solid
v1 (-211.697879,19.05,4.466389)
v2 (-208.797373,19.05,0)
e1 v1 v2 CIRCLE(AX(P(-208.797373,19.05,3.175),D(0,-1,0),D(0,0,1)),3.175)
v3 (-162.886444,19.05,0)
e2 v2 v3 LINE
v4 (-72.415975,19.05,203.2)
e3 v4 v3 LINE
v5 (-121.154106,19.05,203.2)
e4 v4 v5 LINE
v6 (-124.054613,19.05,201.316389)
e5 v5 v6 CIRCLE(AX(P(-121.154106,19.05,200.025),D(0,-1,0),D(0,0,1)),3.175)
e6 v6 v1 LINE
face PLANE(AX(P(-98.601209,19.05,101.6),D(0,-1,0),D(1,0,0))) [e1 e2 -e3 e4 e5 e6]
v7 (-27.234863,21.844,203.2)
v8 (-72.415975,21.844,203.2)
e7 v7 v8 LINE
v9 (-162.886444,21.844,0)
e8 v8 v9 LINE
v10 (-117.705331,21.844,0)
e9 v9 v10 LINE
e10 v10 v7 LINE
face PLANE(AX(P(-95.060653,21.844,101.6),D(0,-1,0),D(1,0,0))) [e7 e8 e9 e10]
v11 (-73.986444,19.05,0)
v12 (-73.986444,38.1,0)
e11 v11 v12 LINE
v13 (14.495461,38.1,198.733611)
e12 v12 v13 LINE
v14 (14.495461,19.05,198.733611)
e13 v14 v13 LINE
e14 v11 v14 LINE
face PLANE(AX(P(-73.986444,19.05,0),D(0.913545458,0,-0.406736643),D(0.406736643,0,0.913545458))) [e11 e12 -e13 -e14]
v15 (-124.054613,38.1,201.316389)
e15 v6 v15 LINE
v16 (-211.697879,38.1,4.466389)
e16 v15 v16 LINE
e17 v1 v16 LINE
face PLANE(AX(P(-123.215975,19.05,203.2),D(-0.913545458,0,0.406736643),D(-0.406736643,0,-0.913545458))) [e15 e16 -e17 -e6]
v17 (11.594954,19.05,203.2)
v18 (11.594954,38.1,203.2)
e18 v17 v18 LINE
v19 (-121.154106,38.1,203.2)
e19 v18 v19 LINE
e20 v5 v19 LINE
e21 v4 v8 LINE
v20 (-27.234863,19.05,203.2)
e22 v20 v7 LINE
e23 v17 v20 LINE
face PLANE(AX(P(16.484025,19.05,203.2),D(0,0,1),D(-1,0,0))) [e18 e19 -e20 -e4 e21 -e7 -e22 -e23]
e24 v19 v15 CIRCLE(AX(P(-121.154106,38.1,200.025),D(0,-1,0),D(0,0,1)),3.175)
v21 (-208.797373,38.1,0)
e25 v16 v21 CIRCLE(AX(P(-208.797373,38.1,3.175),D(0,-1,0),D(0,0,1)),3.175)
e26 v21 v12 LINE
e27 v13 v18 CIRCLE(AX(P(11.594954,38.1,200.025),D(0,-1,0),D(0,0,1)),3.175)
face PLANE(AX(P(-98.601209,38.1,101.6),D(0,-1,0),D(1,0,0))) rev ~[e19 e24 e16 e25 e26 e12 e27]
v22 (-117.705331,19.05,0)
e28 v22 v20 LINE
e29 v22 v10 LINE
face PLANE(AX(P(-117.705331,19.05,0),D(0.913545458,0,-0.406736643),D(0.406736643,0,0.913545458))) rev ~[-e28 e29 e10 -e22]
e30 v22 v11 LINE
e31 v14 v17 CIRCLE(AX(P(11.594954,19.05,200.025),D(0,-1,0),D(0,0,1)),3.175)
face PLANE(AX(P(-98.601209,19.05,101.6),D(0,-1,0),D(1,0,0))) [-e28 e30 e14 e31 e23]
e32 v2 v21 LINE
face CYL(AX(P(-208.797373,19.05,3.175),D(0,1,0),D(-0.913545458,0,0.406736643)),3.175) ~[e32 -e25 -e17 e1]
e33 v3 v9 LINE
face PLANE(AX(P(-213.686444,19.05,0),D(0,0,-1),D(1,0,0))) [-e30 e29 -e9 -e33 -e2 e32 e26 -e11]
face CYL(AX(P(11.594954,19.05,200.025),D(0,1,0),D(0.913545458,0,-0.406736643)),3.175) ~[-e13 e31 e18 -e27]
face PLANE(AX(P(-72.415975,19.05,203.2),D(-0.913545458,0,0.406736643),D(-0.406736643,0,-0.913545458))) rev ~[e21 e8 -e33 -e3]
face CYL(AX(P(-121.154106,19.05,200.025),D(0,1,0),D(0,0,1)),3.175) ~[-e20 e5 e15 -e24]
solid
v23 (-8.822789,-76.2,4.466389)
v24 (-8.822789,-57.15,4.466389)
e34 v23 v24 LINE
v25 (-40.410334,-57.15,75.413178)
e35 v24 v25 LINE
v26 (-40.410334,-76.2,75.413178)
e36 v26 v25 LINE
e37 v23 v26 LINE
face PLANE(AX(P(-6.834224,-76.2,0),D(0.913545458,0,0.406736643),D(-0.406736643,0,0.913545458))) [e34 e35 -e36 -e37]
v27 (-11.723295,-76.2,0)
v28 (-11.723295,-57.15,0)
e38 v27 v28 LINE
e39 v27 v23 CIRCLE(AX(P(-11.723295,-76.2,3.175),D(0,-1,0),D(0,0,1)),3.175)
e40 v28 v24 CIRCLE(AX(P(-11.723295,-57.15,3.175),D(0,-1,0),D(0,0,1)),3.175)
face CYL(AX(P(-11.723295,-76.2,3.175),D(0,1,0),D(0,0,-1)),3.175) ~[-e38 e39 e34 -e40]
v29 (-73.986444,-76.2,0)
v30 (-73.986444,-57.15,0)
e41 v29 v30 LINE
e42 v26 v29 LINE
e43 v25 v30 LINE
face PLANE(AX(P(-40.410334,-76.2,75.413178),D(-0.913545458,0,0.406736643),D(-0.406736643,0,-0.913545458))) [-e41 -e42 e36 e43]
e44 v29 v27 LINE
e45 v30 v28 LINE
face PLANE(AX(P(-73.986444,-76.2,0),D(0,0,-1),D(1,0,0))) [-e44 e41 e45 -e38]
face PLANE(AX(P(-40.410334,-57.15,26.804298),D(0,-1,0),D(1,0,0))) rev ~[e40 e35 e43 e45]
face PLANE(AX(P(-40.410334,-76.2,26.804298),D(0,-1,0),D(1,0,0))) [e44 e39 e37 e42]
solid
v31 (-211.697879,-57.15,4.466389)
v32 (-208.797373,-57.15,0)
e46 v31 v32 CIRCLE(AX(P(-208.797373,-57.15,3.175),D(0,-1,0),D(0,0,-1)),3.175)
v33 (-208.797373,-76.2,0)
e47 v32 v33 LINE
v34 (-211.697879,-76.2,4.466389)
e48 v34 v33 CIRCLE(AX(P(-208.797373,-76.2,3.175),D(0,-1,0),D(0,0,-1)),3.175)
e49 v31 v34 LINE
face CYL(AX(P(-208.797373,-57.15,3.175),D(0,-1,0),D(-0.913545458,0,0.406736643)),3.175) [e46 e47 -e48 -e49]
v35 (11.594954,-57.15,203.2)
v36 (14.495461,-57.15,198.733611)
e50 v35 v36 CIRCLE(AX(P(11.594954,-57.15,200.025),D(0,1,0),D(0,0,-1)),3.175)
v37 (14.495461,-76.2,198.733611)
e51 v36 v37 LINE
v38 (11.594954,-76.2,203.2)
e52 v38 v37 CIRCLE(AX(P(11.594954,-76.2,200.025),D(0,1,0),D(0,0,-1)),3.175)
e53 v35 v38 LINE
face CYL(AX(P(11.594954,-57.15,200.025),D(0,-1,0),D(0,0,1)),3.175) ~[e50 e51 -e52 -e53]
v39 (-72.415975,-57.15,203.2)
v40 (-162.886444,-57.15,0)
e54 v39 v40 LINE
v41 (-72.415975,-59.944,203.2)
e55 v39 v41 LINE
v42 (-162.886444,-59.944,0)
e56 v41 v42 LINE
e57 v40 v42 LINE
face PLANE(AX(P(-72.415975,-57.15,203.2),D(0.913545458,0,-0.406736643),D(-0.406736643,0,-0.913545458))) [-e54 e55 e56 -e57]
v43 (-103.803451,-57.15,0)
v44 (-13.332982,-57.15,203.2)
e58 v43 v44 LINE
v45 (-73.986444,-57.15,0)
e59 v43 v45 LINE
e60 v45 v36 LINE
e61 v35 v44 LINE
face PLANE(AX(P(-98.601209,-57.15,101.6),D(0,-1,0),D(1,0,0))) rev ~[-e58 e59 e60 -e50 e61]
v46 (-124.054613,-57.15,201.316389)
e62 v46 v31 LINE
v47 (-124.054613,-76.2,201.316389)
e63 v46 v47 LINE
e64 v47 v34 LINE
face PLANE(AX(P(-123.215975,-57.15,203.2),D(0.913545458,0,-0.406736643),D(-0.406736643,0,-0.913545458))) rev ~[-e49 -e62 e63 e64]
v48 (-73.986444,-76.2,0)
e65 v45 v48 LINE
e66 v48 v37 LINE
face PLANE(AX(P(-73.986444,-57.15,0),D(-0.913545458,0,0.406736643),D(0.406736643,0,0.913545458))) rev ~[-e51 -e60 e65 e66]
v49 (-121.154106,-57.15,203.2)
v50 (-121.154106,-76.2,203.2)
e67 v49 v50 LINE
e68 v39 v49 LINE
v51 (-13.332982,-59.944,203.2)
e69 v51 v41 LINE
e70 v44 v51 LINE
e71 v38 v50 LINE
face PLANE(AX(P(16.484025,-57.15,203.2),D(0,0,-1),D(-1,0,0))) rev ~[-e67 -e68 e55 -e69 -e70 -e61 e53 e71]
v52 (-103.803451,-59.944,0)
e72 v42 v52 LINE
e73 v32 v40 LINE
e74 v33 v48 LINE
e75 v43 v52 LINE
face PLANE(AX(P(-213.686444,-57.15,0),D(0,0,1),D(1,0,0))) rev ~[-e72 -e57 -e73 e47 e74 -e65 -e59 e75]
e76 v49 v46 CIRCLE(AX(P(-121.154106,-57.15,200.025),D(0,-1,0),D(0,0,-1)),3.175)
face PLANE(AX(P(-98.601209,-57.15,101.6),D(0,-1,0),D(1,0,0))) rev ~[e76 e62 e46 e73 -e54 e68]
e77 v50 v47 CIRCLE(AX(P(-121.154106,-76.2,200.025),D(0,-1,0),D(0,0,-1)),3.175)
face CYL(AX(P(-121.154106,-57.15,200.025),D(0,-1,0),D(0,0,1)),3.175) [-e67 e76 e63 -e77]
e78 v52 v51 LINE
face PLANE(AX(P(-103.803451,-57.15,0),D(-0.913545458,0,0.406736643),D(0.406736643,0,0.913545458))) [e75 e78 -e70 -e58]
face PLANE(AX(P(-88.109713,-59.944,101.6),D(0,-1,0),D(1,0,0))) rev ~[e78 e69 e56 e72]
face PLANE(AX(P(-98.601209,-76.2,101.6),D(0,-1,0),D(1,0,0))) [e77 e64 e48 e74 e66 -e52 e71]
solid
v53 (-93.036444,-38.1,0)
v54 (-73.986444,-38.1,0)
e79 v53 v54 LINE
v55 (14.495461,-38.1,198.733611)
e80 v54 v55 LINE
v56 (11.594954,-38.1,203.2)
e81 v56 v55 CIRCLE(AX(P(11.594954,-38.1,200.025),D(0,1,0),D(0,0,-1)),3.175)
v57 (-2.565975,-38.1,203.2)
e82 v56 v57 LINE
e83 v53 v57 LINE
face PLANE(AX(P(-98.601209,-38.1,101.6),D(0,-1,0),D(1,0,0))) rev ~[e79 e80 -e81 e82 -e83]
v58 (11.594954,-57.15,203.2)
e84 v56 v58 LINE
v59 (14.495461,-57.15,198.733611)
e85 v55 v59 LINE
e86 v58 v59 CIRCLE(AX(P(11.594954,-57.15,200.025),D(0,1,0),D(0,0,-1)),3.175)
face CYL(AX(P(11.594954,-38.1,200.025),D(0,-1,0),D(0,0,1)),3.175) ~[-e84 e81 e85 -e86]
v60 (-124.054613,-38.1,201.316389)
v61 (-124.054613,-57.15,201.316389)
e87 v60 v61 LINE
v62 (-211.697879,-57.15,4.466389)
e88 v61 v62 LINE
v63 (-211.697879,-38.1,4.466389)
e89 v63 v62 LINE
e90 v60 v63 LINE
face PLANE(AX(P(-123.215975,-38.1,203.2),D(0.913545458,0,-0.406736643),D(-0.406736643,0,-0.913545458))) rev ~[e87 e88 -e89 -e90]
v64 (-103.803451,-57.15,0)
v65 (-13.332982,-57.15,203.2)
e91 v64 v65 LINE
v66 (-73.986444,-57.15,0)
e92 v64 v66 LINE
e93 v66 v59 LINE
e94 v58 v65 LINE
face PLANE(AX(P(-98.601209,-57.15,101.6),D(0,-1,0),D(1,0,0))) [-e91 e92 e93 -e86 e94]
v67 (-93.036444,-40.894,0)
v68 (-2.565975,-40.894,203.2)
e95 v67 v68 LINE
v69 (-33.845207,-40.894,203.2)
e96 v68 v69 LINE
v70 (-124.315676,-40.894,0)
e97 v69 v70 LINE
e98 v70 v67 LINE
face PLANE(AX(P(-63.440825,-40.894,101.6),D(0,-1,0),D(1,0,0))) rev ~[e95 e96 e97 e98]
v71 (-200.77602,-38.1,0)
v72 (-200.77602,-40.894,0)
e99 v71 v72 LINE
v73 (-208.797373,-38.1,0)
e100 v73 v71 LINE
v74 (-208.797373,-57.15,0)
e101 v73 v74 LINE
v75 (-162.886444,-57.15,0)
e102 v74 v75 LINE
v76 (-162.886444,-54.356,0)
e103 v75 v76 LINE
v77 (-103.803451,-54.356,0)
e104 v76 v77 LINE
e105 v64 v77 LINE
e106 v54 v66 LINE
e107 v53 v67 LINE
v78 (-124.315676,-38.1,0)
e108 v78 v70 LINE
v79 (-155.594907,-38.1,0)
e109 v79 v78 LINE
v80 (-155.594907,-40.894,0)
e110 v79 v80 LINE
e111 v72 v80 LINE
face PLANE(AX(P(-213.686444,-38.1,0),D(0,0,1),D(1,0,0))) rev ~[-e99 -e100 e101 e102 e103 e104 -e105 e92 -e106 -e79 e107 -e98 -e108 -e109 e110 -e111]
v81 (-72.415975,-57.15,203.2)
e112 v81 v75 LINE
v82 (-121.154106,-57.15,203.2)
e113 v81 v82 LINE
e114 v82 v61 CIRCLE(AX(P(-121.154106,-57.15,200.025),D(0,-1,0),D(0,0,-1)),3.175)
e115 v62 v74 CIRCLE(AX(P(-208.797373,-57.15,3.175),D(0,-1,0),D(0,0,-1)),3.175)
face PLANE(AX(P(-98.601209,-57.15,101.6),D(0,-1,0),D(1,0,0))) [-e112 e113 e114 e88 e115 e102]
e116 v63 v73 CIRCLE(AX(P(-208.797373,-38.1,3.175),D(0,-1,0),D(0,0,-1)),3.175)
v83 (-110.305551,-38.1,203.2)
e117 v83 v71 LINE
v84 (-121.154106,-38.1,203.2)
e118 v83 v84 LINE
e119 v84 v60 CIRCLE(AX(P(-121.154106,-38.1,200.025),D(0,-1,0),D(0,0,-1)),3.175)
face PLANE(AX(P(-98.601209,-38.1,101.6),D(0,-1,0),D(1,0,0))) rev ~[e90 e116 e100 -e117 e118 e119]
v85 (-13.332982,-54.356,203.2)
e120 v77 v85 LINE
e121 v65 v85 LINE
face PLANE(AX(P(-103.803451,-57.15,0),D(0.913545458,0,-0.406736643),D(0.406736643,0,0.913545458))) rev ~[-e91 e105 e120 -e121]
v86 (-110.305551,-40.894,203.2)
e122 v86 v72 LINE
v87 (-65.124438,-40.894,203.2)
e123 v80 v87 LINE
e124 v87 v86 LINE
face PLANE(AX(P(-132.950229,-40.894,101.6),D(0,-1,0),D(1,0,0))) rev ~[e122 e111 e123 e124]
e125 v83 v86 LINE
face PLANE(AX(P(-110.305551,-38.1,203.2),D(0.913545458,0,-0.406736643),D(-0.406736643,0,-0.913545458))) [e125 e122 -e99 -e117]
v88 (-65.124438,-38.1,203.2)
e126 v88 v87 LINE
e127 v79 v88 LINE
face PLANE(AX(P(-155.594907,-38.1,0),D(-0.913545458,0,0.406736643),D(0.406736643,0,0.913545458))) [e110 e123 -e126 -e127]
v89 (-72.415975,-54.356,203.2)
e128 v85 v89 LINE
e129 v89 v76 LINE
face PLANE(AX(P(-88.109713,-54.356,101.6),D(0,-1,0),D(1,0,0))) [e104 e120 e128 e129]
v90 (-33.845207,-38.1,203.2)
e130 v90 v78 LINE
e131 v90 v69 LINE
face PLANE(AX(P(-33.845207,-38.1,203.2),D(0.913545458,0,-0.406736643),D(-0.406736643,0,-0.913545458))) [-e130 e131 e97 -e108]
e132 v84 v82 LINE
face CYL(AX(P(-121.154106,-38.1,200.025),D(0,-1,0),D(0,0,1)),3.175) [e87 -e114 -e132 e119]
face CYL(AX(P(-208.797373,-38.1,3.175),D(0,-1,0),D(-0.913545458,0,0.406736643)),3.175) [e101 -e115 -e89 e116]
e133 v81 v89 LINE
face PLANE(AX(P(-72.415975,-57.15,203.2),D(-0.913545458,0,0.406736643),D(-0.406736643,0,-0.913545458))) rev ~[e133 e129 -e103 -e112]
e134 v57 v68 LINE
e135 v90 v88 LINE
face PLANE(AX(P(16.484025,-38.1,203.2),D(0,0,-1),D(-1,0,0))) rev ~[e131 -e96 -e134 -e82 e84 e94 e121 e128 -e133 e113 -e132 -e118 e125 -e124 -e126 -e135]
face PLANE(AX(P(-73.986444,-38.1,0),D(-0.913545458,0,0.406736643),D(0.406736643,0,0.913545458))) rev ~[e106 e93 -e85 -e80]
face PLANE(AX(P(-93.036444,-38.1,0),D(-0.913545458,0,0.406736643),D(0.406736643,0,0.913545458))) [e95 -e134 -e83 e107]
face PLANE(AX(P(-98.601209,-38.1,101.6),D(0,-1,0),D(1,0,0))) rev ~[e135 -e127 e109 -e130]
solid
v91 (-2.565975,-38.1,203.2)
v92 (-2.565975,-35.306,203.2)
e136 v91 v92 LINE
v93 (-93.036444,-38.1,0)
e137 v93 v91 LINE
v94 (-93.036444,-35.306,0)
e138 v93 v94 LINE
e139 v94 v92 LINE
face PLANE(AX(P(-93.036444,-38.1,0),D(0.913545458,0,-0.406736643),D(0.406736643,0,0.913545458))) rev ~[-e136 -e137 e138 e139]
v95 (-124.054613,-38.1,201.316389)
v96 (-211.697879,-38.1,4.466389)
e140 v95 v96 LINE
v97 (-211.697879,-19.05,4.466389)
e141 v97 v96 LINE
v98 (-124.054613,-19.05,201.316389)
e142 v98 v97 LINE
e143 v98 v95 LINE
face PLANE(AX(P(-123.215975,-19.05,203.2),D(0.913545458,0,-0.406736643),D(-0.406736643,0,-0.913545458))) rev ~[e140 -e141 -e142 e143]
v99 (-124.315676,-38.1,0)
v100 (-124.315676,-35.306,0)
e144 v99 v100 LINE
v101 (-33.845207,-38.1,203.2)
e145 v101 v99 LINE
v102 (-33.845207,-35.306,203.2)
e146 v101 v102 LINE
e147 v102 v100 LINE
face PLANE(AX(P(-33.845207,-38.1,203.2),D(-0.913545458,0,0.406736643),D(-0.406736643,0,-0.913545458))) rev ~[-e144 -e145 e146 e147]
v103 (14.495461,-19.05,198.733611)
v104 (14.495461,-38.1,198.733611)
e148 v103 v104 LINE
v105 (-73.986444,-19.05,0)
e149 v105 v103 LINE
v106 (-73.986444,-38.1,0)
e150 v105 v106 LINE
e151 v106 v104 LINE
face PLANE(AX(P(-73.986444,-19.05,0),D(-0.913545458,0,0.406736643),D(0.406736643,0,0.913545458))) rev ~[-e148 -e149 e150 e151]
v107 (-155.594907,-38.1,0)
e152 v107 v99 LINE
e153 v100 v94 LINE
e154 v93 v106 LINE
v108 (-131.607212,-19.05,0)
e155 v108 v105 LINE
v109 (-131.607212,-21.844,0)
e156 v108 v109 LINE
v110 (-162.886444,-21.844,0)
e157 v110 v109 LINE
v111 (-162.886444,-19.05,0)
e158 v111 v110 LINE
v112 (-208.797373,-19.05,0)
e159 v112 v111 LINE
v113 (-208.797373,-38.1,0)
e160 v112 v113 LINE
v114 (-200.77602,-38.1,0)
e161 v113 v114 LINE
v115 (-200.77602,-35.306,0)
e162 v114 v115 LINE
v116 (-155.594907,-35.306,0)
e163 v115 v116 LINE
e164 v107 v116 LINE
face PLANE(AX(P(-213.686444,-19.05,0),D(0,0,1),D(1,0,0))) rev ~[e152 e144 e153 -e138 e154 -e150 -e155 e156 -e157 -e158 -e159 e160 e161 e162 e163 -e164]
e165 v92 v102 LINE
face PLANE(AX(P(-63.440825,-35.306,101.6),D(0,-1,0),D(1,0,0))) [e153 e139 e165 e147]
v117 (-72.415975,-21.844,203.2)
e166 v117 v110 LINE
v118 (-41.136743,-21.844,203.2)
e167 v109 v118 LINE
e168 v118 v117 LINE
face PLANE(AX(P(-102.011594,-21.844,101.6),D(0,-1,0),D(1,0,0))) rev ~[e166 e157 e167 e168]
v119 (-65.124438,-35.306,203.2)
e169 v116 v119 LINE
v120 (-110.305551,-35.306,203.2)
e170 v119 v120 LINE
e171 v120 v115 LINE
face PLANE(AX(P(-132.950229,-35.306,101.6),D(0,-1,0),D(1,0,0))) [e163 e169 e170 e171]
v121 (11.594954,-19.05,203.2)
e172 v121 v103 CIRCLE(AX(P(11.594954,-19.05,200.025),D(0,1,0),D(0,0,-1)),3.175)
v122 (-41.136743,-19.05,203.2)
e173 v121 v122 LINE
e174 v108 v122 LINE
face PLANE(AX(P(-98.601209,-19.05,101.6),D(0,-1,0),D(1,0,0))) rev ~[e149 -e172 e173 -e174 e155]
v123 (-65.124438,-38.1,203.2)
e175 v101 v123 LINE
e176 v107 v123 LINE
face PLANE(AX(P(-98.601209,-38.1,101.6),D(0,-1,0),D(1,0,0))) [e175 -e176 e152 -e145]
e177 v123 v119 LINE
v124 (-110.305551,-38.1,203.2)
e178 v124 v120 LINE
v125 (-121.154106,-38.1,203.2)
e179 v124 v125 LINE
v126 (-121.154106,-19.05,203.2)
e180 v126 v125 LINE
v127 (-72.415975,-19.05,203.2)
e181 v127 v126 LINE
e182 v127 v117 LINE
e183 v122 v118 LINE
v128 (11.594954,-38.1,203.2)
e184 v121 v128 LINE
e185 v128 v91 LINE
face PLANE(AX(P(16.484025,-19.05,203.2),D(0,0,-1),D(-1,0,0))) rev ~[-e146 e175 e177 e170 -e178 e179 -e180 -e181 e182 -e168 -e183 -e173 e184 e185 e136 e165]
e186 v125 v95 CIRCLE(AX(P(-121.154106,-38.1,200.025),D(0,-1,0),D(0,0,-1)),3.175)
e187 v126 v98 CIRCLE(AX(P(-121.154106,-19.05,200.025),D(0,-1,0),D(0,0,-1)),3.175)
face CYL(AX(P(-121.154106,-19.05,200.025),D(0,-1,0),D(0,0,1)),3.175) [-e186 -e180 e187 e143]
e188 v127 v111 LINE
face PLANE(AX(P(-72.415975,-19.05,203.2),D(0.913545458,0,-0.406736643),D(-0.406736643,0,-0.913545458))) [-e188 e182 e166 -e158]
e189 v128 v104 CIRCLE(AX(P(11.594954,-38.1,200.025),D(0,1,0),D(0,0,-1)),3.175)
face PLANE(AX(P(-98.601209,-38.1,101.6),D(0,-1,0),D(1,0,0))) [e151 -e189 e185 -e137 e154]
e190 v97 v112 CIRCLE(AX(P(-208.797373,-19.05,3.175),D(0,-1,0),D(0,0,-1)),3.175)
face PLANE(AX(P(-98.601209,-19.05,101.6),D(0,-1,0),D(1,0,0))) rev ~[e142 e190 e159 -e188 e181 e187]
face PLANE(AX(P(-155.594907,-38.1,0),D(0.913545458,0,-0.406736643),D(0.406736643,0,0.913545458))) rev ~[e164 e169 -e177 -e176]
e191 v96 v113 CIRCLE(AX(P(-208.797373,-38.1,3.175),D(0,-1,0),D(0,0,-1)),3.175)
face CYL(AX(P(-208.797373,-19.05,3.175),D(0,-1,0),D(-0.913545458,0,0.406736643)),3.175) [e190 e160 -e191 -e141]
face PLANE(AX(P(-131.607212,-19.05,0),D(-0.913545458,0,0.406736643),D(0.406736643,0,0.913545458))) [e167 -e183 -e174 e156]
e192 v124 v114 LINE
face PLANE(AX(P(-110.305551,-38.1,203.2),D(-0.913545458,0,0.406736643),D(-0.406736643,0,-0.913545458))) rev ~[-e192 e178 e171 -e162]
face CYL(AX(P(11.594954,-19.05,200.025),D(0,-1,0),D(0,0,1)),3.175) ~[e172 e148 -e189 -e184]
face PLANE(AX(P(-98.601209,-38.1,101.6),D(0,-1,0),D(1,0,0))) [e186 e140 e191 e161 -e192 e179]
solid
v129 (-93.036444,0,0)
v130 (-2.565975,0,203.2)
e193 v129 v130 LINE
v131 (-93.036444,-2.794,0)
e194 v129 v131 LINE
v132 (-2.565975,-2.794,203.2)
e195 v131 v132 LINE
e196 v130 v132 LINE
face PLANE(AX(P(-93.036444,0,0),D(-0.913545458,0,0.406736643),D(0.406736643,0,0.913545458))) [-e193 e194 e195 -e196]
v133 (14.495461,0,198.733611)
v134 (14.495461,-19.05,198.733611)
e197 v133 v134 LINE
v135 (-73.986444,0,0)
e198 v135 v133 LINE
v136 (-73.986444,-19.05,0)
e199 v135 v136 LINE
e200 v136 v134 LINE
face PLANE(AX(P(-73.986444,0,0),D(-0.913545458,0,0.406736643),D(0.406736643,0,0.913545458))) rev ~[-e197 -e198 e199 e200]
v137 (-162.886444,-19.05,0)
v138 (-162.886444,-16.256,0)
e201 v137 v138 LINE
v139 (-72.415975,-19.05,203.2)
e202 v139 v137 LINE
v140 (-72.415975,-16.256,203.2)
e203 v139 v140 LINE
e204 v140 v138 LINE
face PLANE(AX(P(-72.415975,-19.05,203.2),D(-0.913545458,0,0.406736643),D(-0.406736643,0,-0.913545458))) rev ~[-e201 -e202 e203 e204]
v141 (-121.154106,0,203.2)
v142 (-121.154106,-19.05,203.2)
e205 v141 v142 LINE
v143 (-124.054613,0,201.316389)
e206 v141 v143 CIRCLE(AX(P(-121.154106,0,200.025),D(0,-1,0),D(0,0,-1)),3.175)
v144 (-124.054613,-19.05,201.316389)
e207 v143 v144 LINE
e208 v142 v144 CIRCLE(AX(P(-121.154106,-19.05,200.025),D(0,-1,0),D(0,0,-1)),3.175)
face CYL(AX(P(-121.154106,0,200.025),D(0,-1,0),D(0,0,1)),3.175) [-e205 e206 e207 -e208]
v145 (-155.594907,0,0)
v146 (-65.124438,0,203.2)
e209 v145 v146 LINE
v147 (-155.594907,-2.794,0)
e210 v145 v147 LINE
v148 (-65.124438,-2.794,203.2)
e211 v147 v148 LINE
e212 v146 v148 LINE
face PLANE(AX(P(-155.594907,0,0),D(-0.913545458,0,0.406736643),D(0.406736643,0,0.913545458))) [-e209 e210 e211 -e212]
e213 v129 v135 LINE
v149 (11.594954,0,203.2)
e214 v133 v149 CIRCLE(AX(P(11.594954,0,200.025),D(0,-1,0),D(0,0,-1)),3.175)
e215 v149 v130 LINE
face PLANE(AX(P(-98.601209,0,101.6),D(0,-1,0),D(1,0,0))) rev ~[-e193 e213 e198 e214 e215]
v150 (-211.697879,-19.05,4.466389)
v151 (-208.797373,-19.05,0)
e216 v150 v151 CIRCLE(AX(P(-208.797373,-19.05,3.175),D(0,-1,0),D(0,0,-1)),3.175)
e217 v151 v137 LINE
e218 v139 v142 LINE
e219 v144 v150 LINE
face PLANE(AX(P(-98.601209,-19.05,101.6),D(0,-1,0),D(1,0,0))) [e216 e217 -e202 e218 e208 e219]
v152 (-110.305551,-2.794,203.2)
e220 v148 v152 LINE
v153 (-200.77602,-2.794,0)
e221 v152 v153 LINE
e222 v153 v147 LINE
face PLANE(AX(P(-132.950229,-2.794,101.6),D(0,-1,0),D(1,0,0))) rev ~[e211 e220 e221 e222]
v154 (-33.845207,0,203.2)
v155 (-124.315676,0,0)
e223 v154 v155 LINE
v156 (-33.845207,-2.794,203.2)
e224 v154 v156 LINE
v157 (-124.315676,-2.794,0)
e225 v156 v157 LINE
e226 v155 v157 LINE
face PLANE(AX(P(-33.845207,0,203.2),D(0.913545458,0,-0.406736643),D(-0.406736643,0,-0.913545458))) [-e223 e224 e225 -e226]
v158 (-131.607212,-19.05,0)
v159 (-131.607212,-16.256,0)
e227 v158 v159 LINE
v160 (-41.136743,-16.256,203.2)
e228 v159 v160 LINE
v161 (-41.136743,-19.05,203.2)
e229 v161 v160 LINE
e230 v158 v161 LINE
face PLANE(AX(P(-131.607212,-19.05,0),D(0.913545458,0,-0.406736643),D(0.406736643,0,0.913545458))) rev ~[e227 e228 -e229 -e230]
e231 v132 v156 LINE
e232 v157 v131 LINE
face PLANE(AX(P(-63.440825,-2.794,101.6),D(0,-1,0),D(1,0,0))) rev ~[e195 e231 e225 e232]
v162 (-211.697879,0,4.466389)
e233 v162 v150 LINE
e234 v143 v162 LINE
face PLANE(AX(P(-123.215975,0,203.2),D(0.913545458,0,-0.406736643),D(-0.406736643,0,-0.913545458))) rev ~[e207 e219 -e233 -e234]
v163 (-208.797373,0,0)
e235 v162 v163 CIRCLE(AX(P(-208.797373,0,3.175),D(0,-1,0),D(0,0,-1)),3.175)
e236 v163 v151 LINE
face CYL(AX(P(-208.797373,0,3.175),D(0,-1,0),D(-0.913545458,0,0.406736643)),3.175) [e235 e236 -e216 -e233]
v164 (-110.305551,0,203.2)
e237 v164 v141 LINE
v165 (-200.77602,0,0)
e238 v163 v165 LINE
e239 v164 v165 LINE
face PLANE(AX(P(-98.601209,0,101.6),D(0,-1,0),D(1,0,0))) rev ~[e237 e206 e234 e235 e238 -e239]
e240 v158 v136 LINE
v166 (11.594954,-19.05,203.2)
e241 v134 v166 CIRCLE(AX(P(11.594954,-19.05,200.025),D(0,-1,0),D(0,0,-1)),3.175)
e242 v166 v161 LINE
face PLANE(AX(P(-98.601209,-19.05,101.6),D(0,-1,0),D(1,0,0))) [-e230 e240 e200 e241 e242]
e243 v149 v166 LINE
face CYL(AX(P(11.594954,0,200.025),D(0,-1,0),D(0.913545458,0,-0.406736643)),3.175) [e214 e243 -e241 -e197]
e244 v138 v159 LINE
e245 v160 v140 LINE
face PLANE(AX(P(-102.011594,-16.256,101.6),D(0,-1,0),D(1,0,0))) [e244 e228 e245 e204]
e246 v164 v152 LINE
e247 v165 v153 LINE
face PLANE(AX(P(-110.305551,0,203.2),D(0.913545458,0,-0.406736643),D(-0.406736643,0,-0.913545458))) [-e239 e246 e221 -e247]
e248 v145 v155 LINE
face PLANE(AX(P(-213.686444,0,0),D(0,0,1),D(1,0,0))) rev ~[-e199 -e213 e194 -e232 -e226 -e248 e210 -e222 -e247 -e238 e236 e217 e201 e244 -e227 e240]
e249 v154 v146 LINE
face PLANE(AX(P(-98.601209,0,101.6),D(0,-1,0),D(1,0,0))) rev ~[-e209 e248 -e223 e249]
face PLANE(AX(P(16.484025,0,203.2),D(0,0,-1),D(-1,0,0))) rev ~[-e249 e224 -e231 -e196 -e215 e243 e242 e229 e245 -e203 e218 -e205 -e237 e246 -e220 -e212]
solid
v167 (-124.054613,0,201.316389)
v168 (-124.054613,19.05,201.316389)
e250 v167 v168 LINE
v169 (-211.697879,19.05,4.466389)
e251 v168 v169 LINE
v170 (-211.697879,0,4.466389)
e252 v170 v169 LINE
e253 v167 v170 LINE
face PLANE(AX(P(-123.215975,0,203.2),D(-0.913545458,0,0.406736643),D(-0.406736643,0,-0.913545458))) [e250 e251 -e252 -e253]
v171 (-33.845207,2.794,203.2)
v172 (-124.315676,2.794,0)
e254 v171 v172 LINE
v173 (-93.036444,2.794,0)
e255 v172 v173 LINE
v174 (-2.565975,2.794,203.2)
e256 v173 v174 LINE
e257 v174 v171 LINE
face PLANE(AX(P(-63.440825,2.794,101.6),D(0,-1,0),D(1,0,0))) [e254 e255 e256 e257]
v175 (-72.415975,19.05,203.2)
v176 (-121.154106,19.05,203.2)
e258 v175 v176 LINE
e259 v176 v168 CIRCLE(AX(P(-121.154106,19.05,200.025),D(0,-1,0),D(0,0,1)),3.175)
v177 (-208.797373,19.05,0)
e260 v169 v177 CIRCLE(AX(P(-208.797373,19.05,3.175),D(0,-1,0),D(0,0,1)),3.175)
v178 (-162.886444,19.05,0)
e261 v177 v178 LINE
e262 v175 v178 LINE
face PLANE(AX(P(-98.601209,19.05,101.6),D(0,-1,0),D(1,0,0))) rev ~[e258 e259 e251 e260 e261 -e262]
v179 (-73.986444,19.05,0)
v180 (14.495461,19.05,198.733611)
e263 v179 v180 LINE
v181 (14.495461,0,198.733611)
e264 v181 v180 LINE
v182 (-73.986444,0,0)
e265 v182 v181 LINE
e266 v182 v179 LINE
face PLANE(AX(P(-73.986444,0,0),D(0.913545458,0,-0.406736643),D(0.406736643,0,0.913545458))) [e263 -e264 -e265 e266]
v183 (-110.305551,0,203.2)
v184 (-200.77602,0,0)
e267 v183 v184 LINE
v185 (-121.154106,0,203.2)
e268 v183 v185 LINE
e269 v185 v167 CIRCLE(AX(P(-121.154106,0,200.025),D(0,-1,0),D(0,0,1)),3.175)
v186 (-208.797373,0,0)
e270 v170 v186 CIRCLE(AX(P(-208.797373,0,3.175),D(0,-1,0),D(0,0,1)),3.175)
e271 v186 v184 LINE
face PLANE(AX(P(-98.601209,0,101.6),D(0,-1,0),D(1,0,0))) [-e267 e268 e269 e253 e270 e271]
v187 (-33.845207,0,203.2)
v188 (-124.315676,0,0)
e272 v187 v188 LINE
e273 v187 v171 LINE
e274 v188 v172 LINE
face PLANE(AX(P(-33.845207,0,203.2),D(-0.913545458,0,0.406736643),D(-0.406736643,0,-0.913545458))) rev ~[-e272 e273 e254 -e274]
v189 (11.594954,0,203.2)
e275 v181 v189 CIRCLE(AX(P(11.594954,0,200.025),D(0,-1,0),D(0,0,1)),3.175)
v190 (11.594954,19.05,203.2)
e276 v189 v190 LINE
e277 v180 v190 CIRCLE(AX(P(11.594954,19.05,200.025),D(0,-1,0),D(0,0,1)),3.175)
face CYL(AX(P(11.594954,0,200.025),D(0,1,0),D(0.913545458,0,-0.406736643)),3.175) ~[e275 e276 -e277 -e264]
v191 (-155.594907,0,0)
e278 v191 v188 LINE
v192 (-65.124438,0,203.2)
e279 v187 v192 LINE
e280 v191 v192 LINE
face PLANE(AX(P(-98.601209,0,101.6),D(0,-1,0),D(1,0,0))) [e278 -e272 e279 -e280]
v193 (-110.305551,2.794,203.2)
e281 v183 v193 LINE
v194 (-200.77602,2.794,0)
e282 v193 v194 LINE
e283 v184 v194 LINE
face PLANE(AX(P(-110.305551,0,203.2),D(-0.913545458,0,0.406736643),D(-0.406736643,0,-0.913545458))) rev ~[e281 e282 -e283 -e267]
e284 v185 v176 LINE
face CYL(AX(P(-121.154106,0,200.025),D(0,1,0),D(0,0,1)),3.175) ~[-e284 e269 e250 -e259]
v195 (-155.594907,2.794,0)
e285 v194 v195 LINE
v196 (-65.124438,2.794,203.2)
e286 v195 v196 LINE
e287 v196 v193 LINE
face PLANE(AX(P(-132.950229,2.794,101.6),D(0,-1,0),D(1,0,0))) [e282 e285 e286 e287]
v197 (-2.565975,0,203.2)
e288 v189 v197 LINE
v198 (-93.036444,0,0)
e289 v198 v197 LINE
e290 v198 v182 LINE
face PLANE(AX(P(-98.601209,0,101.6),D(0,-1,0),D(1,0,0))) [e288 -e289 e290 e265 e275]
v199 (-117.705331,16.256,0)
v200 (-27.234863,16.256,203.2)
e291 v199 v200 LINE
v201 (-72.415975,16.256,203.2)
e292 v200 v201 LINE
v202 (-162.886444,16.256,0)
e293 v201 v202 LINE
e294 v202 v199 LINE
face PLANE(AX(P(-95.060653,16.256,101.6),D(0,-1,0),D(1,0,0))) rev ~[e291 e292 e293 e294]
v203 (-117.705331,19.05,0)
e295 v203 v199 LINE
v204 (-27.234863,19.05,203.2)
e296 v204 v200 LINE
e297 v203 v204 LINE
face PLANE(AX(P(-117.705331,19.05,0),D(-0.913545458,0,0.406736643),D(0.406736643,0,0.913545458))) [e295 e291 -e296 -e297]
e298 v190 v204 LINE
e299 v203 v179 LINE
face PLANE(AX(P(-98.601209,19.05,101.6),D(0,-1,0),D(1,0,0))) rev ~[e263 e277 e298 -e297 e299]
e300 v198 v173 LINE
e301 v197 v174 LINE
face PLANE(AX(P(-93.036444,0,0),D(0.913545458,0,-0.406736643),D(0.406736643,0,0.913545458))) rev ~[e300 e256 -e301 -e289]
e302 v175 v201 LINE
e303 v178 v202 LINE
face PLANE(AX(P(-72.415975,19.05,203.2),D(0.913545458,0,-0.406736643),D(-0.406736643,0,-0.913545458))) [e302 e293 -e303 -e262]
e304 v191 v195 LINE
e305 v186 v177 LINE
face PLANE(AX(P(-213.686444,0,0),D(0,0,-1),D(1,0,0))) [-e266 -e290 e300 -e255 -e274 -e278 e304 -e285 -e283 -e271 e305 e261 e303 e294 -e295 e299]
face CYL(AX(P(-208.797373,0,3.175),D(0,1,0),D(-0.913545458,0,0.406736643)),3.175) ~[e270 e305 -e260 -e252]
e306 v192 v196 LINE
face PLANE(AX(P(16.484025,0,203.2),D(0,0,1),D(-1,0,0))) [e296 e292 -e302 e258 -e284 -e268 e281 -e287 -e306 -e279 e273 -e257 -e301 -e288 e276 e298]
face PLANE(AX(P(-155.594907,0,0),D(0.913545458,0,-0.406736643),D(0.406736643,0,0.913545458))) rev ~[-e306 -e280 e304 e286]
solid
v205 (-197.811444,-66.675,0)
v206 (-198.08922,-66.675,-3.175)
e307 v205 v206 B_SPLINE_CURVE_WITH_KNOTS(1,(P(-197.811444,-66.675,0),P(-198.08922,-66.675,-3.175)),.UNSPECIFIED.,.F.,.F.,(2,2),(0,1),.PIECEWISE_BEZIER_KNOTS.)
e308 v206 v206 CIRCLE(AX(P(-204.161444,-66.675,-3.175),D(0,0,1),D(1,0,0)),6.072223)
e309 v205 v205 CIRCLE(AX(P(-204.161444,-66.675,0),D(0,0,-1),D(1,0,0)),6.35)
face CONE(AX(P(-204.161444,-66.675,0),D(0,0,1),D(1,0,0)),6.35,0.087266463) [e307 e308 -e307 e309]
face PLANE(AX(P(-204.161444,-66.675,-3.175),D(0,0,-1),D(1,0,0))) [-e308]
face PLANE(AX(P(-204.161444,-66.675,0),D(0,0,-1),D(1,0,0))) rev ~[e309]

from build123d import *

# Parameters (mm, degrees)
F1_DEPTH  = 19.05
F6_DEPTH  = 19.05
F8_DEPTH  = 19.05
F9_DEPTH  = 19.05
F11_DEPTH = 19.05
F14_DEPTH = 19.05
F16_DEPTH = 2.794
F17_DEPTH = 2.794
F19_DEPTH = 2.794
F20_DEPTH = 2.794
F22_DEPTH = 2.794
F23_DEPTH = 2.794
F25_DEPTH = 2.794
F26_DEPTH = 2.794
F28_DEPTH = 2.794
F29_DEPTH = 2.794
F31_DEPTH = 19.05
F32_R     = 3.175
F32_2_R   = 3.175
F32_3_R   = 3.175
F32_4_R   = 3.175
F32_5_R   = 3.175
F32_6_R   = 3.175
F33_R     = 3.175
F33_2_R   = 3.175
F33_3_R   = 3.175
F33_4_R   = 3.175
F33_5_R   = 3.175
F33_6_R   = 3.175
F34_R     = 6.35
F35_DEPTH = 3.175
F35_TAPER = 5
F36_R     = 3.175
F37_R     = 3.175
F37_2_R   = 3.175
F37_3_R   = 3.175
F37_4_R   = 3.175
F37_5_R   = 3.175
F37_6_R   = 3.175


with BuildPart() as f1:
    # F0 (on Front) → F1 (new body)
    with BuildSketch(Plane.XZ):
        Polygon((-213.6864438653, 0), (-73.9864438653, 0), (16.4840249894, 203.2), (-123.2159750106, 203.2), align=None)
    extrude(amount=F1_DEPTH)

    # F18 (on face) → F20 (cut)
    with BuildSketch(Plane.XZ):
        Polygon((-2.5659750106, 203.2), (-33.8452066689, 203.2), (-124.3156755236, 0), (-93.0364438653, 0), align=None)
        Polygon((-65.1244383272, 203.2), (-110.3055507226, 203.2), (-200.7760195773, 0), (-155.5949071819, 0), align=None)
    extrude(amount=F20_DEPTH, mode=Mode.SUBTRACT)

    # F21 (on face) → F22 (cut)
    with BuildSketch(Plane.XZ.offset(19.05)):
        Polygon((-41.1367433523, 203.2), (-72.4159750106, 203.2), (-162.8864438653, 0), (-131.607212207, 0), align=None)
    extrude(amount=-F22_DEPTH, mode=Mode.SUBTRACT)

    # F32#3
    f32_3_edges = [f1.edges().sort_by_distance(p)[0] for p in [
        (16.484025, -9.525, 203.2),
    ]]
    fillet(f32_3_edges, radius=F32_3_R)

    # F33#3
    f33_3_edges = [f1.edges().sort_by_distance(p)[0] for p in [
        (-123.215975, -9.525, 203.2),
    ]]
    fillet(f33_3_edges, radius=F33_3_R)

    # F37#3
    f37_3_edges = [f1.edges().sort_by_distance(p)[0] for p in [
        (-213.686444, -9.525, 0),
    ]]
    fillet(f37_3_edges, radius=F37_3_R)


with BuildPart() as f6:
    # F5 (on offset) → F6 (new body)
    with BuildSketch(Plane.XZ.offset(19.05)):
        Polygon((-123.2159750106, 203.2), (-213.6864438653, 0), (-73.9864438653, 0), (16.4840249894, 203.2), align=None)
    extrude(amount=F6_DEPTH)

    # F21 (on face) → F23 (cut)
    with BuildSketch(Plane.XZ.offset(19.05)):
        Polygon((-41.1367433523, 203.2), (-72.4159750106, 203.2), (-162.8864438653, 0), (-131.607212207, 0), align=None)
    extrude(amount=F23_DEPTH, mode=Mode.SUBTRACT)

    # F24 (on face) → F25 (cut)
    with BuildSketch(Plane.XZ.offset(38.1)):
        Polygon((-65.1244383272, 203.2), (-110.3055507226, 203.2), (-200.7760195773, 0), (-155.5949071819, 0), align=None)
        Polygon((-2.5659750106, 203.2), (-33.8452066689, 203.2), (-124.3156755236, 0), (-93.0364438653, 0), align=None)
    extrude(amount=-F25_DEPTH, mode=Mode.SUBTRACT)

    # F32#4
    f32_4_edges = [f6.edges().sort_by_distance(p)[0] for p in [
        (16.484025, -28.575, 203.2),
    ]]
    fillet(f32_4_edges, radius=F32_4_R)

    # F33#4
    f33_4_edges = [f6.edges().sort_by_distance(p)[0] for p in [
        (-123.215975, -28.575, 203.2),
    ]]
    fillet(f33_4_edges, radius=F33_4_R)

    # F37#4
    f37_4_edges = [f6.edges().sort_by_distance(p)[0] for p in [
        (-213.686444, -28.575, 0),
    ]]
    fillet(f37_4_edges, radius=F37_4_R)


with BuildPart() as f8:
    # F7 (on offset) → F8 (new body)
    with BuildSketch(Plane.XZ.offset(38.1)):
        Polygon((16.4840249894, 203.2), (-123.2159750106, 203.2), (-213.6864438653, 0), (-73.9864438653, 0), align=None)
    extrude(amount=F8_DEPTH)

    # F24 (on face) → F26 (cut)
    with BuildSketch(Plane.XZ.offset(38.1)):
        Polygon((-2.5659750106, 203.2), (-33.8452066689, 203.2), (-124.3156755236, 0), (-93.0364438653, 0), align=None)
        Polygon((-65.1244383272, 203.2), (-110.3055507226, 203.2), (-200.7760195773, 0), (-155.5949071819, 0), align=None)
    extrude(amount=F26_DEPTH, mode=Mode.SUBTRACT)

    # F27 (on face) → F28 (cut)
    with BuildSketch(Plane.XZ.offset(57.15)):
        Polygon((-13.3329818782, 203.2), (-72.4159750106, 203.2), (-162.8864438653, 0), (-103.8034507329, 0), align=None)
    extrude(amount=-F28_DEPTH, mode=Mode.SUBTRACT)

    # F32#5
    f32_5_edges = [f8.edges().sort_by_distance(p)[0] for p in [
        (16.484025, -47.625, 203.2),
    ]]
    fillet(f32_5_edges, radius=F32_5_R)

    # F33#5
    f33_5_edges = [f8.edges().sort_by_distance(p)[0] for p in [
        (-123.215975, -47.625, 203.2),
    ]]
    fillet(f33_5_edges, radius=F33_5_R)

    # F37#5
    f37_5_edges = [f8.edges().sort_by_distance(p)[0] for p in [
        (-213.686444, -47.625, 0),
    ]]
    fillet(f37_5_edges, radius=F37_5_R)


with BuildPart() as f9:
    # F0 (on Front) → F9 (new body)
    with BuildSketch(Plane.XZ):
        Polygon((-213.6864438653, 0), (-73.9864438653, 0), (16.4840249894, 203.2), (-123.2159750106, 203.2), align=None)
    extrude(amount=-F9_DEPTH)

    # F15 (on face) → F17 (cut)
    with BuildSketch(Plane.XZ.offset(-19.05)):
        Polygon((-27.2348626153, 203.2), (-72.4159750106, 203.2), (-162.8864438653, 0), (-117.70533147, 0), align=None)
    extrude(amount=F17_DEPTH, mode=Mode.SUBTRACT)

    # F18 (on face) → F19 (cut)
    with BuildSketch(Plane.XZ):
        Polygon((-65.1244383272, 203.2), (-110.3055507226, 203.2), (-200.7760195773, 0), (-155.5949071819, 0), align=None)
        Polygon((-2.5659750106, 203.2), (-33.8452066689, 203.2), (-124.3156755236, 0), (-93.0364438653, 0), align=None)
    extrude(amount=-F19_DEPTH, mode=Mode.SUBTRACT)

    # F32#2
    f32_2_edges = [f9.edges().sort_by_distance(p)[0] for p in [
        (16.484025, 9.525, 203.2),
    ]]
    fillet(f32_2_edges, radius=F32_2_R)

    # F33#2
    f33_2_edges = [f9.edges().sort_by_distance(p)[0] for p in [
        (-123.215975, 9.525, 203.2),
    ]]
    fillet(f33_2_edges, radius=F33_2_R)

    # F37#2
    f37_2_edges = [f9.edges().sort_by_distance(p)[0] for p in [
        (-213.686444, 9.525, 0),
    ]]
    fillet(f37_2_edges, radius=F37_2_R)


with BuildPart() as f11:
    # F10 (on offset) → F11 (new body)
    with BuildSketch(Plane.XZ.offset(-19.05)):
        Polygon((-213.6864438653, 0), (-73.9864438653, 0), (16.4840249894, 203.2), (-123.2159750106, 203.2), align=None)
    extrude(amount=-F11_DEPTH)

    # F15 (on face) → F16 (cut)
    with BuildSketch(Plane.XZ.offset(-19.05)):
        Polygon((-27.2348626153, 203.2), (-72.4159750106, 203.2), (-162.8864438653, 0), (-117.70533147, 0), align=None)
    extrude(amount=-F16_DEPTH, mode=Mode.SUBTRACT)

    # F32
    f32_edges = [f11.edges().sort_by_distance(p)[0] for p in [
        (16.484025, 28.575, 203.2),
    ]]
    fillet(f32_edges, radius=F32_R)

    # F33
    f33_edges = [f11.edges().sort_by_distance(p)[0] for p in [
        (-123.215975, 28.575, 203.2),
    ]]
    fillet(f33_edges, radius=F33_R)

    # F37
    f37_edges = [f11.edges().sort_by_distance(p)[0] for p in [
        (-213.686444, 28.575, 0),
    ]]
    fillet(f37_edges, radius=F37_R)


with BuildPart() as f14:
    # F13 (on offset) → F14 (new body)
    with BuildSketch(Plane.XZ.offset(57.15)):
        Polygon((-123.2159750106, 203.2), (-213.6864438653, 0), (-73.9864438653, 0), (16.4840249894, 203.2), align=None)
    extrude(amount=F14_DEPTH)

    # F27 (on face) → F29 (cut)
    with BuildSketch(Plane.XZ.offset(57.15)):
        Polygon((-13.3329818782, 203.2), (-72.4159750106, 203.2), (-162.8864438653, 0), (-103.8034507329, 0), align=None)
    extrude(amount=F29_DEPTH, mode=Mode.SUBTRACT)

    # F32#6
    f32_6_edges = [f14.edges().sort_by_distance(p)[0] for p in [
        (16.484025, -66.675, 203.2),
    ]]
    fillet(f32_6_edges, radius=F32_6_R)

    # F33#6
    f33_6_edges = [f14.edges().sort_by_distance(p)[0] for p in [
        (-123.215975, -66.675, 203.2),
    ]]
    fillet(f33_6_edges, radius=F33_6_R)

    # F37#6
    f37_6_edges = [f14.edges().sort_by_distance(p)[0] for p in [
        (-213.686444, -66.675, 0),
    ]]
    fillet(f37_6_edges, radius=F37_6_R)


with BuildPart() as f31:
    # F30 (on face) → F31 (new body)
    with BuildSketch(Plane.XZ.offset(76.2)):
        Polygon((-40.4103339794, 75.4131775284), (-73.9864438653, 0), (-6.8342240935, 0), align=None)
    extrude(amount=-F31_DEPTH)

    # F36
    f36_edges = [f31.edges().sort_by_distance(p)[0] for p in [
        (-6.834224, -66.675, 0),
    ]]
    fillet(f36_edges, radius=F36_R)


with BuildPart() as f35:
    # F34 (on face) → F35 (new body)
    with BuildSketch(Plane(origin=(0, 0, 0), x_dir=(1, 0, 0), z_dir=(0, 0, -1))):
        with Locations((-204.1614438653, 66.675)):
            Circle(F34_R)
    extrude(amount=F35_DEPTH, taper=F35_TAPER)


solid = Compound([f1.part, f6.part, f8.part, f9.part, f11.part, f14.part, f31.part, f35.part])
